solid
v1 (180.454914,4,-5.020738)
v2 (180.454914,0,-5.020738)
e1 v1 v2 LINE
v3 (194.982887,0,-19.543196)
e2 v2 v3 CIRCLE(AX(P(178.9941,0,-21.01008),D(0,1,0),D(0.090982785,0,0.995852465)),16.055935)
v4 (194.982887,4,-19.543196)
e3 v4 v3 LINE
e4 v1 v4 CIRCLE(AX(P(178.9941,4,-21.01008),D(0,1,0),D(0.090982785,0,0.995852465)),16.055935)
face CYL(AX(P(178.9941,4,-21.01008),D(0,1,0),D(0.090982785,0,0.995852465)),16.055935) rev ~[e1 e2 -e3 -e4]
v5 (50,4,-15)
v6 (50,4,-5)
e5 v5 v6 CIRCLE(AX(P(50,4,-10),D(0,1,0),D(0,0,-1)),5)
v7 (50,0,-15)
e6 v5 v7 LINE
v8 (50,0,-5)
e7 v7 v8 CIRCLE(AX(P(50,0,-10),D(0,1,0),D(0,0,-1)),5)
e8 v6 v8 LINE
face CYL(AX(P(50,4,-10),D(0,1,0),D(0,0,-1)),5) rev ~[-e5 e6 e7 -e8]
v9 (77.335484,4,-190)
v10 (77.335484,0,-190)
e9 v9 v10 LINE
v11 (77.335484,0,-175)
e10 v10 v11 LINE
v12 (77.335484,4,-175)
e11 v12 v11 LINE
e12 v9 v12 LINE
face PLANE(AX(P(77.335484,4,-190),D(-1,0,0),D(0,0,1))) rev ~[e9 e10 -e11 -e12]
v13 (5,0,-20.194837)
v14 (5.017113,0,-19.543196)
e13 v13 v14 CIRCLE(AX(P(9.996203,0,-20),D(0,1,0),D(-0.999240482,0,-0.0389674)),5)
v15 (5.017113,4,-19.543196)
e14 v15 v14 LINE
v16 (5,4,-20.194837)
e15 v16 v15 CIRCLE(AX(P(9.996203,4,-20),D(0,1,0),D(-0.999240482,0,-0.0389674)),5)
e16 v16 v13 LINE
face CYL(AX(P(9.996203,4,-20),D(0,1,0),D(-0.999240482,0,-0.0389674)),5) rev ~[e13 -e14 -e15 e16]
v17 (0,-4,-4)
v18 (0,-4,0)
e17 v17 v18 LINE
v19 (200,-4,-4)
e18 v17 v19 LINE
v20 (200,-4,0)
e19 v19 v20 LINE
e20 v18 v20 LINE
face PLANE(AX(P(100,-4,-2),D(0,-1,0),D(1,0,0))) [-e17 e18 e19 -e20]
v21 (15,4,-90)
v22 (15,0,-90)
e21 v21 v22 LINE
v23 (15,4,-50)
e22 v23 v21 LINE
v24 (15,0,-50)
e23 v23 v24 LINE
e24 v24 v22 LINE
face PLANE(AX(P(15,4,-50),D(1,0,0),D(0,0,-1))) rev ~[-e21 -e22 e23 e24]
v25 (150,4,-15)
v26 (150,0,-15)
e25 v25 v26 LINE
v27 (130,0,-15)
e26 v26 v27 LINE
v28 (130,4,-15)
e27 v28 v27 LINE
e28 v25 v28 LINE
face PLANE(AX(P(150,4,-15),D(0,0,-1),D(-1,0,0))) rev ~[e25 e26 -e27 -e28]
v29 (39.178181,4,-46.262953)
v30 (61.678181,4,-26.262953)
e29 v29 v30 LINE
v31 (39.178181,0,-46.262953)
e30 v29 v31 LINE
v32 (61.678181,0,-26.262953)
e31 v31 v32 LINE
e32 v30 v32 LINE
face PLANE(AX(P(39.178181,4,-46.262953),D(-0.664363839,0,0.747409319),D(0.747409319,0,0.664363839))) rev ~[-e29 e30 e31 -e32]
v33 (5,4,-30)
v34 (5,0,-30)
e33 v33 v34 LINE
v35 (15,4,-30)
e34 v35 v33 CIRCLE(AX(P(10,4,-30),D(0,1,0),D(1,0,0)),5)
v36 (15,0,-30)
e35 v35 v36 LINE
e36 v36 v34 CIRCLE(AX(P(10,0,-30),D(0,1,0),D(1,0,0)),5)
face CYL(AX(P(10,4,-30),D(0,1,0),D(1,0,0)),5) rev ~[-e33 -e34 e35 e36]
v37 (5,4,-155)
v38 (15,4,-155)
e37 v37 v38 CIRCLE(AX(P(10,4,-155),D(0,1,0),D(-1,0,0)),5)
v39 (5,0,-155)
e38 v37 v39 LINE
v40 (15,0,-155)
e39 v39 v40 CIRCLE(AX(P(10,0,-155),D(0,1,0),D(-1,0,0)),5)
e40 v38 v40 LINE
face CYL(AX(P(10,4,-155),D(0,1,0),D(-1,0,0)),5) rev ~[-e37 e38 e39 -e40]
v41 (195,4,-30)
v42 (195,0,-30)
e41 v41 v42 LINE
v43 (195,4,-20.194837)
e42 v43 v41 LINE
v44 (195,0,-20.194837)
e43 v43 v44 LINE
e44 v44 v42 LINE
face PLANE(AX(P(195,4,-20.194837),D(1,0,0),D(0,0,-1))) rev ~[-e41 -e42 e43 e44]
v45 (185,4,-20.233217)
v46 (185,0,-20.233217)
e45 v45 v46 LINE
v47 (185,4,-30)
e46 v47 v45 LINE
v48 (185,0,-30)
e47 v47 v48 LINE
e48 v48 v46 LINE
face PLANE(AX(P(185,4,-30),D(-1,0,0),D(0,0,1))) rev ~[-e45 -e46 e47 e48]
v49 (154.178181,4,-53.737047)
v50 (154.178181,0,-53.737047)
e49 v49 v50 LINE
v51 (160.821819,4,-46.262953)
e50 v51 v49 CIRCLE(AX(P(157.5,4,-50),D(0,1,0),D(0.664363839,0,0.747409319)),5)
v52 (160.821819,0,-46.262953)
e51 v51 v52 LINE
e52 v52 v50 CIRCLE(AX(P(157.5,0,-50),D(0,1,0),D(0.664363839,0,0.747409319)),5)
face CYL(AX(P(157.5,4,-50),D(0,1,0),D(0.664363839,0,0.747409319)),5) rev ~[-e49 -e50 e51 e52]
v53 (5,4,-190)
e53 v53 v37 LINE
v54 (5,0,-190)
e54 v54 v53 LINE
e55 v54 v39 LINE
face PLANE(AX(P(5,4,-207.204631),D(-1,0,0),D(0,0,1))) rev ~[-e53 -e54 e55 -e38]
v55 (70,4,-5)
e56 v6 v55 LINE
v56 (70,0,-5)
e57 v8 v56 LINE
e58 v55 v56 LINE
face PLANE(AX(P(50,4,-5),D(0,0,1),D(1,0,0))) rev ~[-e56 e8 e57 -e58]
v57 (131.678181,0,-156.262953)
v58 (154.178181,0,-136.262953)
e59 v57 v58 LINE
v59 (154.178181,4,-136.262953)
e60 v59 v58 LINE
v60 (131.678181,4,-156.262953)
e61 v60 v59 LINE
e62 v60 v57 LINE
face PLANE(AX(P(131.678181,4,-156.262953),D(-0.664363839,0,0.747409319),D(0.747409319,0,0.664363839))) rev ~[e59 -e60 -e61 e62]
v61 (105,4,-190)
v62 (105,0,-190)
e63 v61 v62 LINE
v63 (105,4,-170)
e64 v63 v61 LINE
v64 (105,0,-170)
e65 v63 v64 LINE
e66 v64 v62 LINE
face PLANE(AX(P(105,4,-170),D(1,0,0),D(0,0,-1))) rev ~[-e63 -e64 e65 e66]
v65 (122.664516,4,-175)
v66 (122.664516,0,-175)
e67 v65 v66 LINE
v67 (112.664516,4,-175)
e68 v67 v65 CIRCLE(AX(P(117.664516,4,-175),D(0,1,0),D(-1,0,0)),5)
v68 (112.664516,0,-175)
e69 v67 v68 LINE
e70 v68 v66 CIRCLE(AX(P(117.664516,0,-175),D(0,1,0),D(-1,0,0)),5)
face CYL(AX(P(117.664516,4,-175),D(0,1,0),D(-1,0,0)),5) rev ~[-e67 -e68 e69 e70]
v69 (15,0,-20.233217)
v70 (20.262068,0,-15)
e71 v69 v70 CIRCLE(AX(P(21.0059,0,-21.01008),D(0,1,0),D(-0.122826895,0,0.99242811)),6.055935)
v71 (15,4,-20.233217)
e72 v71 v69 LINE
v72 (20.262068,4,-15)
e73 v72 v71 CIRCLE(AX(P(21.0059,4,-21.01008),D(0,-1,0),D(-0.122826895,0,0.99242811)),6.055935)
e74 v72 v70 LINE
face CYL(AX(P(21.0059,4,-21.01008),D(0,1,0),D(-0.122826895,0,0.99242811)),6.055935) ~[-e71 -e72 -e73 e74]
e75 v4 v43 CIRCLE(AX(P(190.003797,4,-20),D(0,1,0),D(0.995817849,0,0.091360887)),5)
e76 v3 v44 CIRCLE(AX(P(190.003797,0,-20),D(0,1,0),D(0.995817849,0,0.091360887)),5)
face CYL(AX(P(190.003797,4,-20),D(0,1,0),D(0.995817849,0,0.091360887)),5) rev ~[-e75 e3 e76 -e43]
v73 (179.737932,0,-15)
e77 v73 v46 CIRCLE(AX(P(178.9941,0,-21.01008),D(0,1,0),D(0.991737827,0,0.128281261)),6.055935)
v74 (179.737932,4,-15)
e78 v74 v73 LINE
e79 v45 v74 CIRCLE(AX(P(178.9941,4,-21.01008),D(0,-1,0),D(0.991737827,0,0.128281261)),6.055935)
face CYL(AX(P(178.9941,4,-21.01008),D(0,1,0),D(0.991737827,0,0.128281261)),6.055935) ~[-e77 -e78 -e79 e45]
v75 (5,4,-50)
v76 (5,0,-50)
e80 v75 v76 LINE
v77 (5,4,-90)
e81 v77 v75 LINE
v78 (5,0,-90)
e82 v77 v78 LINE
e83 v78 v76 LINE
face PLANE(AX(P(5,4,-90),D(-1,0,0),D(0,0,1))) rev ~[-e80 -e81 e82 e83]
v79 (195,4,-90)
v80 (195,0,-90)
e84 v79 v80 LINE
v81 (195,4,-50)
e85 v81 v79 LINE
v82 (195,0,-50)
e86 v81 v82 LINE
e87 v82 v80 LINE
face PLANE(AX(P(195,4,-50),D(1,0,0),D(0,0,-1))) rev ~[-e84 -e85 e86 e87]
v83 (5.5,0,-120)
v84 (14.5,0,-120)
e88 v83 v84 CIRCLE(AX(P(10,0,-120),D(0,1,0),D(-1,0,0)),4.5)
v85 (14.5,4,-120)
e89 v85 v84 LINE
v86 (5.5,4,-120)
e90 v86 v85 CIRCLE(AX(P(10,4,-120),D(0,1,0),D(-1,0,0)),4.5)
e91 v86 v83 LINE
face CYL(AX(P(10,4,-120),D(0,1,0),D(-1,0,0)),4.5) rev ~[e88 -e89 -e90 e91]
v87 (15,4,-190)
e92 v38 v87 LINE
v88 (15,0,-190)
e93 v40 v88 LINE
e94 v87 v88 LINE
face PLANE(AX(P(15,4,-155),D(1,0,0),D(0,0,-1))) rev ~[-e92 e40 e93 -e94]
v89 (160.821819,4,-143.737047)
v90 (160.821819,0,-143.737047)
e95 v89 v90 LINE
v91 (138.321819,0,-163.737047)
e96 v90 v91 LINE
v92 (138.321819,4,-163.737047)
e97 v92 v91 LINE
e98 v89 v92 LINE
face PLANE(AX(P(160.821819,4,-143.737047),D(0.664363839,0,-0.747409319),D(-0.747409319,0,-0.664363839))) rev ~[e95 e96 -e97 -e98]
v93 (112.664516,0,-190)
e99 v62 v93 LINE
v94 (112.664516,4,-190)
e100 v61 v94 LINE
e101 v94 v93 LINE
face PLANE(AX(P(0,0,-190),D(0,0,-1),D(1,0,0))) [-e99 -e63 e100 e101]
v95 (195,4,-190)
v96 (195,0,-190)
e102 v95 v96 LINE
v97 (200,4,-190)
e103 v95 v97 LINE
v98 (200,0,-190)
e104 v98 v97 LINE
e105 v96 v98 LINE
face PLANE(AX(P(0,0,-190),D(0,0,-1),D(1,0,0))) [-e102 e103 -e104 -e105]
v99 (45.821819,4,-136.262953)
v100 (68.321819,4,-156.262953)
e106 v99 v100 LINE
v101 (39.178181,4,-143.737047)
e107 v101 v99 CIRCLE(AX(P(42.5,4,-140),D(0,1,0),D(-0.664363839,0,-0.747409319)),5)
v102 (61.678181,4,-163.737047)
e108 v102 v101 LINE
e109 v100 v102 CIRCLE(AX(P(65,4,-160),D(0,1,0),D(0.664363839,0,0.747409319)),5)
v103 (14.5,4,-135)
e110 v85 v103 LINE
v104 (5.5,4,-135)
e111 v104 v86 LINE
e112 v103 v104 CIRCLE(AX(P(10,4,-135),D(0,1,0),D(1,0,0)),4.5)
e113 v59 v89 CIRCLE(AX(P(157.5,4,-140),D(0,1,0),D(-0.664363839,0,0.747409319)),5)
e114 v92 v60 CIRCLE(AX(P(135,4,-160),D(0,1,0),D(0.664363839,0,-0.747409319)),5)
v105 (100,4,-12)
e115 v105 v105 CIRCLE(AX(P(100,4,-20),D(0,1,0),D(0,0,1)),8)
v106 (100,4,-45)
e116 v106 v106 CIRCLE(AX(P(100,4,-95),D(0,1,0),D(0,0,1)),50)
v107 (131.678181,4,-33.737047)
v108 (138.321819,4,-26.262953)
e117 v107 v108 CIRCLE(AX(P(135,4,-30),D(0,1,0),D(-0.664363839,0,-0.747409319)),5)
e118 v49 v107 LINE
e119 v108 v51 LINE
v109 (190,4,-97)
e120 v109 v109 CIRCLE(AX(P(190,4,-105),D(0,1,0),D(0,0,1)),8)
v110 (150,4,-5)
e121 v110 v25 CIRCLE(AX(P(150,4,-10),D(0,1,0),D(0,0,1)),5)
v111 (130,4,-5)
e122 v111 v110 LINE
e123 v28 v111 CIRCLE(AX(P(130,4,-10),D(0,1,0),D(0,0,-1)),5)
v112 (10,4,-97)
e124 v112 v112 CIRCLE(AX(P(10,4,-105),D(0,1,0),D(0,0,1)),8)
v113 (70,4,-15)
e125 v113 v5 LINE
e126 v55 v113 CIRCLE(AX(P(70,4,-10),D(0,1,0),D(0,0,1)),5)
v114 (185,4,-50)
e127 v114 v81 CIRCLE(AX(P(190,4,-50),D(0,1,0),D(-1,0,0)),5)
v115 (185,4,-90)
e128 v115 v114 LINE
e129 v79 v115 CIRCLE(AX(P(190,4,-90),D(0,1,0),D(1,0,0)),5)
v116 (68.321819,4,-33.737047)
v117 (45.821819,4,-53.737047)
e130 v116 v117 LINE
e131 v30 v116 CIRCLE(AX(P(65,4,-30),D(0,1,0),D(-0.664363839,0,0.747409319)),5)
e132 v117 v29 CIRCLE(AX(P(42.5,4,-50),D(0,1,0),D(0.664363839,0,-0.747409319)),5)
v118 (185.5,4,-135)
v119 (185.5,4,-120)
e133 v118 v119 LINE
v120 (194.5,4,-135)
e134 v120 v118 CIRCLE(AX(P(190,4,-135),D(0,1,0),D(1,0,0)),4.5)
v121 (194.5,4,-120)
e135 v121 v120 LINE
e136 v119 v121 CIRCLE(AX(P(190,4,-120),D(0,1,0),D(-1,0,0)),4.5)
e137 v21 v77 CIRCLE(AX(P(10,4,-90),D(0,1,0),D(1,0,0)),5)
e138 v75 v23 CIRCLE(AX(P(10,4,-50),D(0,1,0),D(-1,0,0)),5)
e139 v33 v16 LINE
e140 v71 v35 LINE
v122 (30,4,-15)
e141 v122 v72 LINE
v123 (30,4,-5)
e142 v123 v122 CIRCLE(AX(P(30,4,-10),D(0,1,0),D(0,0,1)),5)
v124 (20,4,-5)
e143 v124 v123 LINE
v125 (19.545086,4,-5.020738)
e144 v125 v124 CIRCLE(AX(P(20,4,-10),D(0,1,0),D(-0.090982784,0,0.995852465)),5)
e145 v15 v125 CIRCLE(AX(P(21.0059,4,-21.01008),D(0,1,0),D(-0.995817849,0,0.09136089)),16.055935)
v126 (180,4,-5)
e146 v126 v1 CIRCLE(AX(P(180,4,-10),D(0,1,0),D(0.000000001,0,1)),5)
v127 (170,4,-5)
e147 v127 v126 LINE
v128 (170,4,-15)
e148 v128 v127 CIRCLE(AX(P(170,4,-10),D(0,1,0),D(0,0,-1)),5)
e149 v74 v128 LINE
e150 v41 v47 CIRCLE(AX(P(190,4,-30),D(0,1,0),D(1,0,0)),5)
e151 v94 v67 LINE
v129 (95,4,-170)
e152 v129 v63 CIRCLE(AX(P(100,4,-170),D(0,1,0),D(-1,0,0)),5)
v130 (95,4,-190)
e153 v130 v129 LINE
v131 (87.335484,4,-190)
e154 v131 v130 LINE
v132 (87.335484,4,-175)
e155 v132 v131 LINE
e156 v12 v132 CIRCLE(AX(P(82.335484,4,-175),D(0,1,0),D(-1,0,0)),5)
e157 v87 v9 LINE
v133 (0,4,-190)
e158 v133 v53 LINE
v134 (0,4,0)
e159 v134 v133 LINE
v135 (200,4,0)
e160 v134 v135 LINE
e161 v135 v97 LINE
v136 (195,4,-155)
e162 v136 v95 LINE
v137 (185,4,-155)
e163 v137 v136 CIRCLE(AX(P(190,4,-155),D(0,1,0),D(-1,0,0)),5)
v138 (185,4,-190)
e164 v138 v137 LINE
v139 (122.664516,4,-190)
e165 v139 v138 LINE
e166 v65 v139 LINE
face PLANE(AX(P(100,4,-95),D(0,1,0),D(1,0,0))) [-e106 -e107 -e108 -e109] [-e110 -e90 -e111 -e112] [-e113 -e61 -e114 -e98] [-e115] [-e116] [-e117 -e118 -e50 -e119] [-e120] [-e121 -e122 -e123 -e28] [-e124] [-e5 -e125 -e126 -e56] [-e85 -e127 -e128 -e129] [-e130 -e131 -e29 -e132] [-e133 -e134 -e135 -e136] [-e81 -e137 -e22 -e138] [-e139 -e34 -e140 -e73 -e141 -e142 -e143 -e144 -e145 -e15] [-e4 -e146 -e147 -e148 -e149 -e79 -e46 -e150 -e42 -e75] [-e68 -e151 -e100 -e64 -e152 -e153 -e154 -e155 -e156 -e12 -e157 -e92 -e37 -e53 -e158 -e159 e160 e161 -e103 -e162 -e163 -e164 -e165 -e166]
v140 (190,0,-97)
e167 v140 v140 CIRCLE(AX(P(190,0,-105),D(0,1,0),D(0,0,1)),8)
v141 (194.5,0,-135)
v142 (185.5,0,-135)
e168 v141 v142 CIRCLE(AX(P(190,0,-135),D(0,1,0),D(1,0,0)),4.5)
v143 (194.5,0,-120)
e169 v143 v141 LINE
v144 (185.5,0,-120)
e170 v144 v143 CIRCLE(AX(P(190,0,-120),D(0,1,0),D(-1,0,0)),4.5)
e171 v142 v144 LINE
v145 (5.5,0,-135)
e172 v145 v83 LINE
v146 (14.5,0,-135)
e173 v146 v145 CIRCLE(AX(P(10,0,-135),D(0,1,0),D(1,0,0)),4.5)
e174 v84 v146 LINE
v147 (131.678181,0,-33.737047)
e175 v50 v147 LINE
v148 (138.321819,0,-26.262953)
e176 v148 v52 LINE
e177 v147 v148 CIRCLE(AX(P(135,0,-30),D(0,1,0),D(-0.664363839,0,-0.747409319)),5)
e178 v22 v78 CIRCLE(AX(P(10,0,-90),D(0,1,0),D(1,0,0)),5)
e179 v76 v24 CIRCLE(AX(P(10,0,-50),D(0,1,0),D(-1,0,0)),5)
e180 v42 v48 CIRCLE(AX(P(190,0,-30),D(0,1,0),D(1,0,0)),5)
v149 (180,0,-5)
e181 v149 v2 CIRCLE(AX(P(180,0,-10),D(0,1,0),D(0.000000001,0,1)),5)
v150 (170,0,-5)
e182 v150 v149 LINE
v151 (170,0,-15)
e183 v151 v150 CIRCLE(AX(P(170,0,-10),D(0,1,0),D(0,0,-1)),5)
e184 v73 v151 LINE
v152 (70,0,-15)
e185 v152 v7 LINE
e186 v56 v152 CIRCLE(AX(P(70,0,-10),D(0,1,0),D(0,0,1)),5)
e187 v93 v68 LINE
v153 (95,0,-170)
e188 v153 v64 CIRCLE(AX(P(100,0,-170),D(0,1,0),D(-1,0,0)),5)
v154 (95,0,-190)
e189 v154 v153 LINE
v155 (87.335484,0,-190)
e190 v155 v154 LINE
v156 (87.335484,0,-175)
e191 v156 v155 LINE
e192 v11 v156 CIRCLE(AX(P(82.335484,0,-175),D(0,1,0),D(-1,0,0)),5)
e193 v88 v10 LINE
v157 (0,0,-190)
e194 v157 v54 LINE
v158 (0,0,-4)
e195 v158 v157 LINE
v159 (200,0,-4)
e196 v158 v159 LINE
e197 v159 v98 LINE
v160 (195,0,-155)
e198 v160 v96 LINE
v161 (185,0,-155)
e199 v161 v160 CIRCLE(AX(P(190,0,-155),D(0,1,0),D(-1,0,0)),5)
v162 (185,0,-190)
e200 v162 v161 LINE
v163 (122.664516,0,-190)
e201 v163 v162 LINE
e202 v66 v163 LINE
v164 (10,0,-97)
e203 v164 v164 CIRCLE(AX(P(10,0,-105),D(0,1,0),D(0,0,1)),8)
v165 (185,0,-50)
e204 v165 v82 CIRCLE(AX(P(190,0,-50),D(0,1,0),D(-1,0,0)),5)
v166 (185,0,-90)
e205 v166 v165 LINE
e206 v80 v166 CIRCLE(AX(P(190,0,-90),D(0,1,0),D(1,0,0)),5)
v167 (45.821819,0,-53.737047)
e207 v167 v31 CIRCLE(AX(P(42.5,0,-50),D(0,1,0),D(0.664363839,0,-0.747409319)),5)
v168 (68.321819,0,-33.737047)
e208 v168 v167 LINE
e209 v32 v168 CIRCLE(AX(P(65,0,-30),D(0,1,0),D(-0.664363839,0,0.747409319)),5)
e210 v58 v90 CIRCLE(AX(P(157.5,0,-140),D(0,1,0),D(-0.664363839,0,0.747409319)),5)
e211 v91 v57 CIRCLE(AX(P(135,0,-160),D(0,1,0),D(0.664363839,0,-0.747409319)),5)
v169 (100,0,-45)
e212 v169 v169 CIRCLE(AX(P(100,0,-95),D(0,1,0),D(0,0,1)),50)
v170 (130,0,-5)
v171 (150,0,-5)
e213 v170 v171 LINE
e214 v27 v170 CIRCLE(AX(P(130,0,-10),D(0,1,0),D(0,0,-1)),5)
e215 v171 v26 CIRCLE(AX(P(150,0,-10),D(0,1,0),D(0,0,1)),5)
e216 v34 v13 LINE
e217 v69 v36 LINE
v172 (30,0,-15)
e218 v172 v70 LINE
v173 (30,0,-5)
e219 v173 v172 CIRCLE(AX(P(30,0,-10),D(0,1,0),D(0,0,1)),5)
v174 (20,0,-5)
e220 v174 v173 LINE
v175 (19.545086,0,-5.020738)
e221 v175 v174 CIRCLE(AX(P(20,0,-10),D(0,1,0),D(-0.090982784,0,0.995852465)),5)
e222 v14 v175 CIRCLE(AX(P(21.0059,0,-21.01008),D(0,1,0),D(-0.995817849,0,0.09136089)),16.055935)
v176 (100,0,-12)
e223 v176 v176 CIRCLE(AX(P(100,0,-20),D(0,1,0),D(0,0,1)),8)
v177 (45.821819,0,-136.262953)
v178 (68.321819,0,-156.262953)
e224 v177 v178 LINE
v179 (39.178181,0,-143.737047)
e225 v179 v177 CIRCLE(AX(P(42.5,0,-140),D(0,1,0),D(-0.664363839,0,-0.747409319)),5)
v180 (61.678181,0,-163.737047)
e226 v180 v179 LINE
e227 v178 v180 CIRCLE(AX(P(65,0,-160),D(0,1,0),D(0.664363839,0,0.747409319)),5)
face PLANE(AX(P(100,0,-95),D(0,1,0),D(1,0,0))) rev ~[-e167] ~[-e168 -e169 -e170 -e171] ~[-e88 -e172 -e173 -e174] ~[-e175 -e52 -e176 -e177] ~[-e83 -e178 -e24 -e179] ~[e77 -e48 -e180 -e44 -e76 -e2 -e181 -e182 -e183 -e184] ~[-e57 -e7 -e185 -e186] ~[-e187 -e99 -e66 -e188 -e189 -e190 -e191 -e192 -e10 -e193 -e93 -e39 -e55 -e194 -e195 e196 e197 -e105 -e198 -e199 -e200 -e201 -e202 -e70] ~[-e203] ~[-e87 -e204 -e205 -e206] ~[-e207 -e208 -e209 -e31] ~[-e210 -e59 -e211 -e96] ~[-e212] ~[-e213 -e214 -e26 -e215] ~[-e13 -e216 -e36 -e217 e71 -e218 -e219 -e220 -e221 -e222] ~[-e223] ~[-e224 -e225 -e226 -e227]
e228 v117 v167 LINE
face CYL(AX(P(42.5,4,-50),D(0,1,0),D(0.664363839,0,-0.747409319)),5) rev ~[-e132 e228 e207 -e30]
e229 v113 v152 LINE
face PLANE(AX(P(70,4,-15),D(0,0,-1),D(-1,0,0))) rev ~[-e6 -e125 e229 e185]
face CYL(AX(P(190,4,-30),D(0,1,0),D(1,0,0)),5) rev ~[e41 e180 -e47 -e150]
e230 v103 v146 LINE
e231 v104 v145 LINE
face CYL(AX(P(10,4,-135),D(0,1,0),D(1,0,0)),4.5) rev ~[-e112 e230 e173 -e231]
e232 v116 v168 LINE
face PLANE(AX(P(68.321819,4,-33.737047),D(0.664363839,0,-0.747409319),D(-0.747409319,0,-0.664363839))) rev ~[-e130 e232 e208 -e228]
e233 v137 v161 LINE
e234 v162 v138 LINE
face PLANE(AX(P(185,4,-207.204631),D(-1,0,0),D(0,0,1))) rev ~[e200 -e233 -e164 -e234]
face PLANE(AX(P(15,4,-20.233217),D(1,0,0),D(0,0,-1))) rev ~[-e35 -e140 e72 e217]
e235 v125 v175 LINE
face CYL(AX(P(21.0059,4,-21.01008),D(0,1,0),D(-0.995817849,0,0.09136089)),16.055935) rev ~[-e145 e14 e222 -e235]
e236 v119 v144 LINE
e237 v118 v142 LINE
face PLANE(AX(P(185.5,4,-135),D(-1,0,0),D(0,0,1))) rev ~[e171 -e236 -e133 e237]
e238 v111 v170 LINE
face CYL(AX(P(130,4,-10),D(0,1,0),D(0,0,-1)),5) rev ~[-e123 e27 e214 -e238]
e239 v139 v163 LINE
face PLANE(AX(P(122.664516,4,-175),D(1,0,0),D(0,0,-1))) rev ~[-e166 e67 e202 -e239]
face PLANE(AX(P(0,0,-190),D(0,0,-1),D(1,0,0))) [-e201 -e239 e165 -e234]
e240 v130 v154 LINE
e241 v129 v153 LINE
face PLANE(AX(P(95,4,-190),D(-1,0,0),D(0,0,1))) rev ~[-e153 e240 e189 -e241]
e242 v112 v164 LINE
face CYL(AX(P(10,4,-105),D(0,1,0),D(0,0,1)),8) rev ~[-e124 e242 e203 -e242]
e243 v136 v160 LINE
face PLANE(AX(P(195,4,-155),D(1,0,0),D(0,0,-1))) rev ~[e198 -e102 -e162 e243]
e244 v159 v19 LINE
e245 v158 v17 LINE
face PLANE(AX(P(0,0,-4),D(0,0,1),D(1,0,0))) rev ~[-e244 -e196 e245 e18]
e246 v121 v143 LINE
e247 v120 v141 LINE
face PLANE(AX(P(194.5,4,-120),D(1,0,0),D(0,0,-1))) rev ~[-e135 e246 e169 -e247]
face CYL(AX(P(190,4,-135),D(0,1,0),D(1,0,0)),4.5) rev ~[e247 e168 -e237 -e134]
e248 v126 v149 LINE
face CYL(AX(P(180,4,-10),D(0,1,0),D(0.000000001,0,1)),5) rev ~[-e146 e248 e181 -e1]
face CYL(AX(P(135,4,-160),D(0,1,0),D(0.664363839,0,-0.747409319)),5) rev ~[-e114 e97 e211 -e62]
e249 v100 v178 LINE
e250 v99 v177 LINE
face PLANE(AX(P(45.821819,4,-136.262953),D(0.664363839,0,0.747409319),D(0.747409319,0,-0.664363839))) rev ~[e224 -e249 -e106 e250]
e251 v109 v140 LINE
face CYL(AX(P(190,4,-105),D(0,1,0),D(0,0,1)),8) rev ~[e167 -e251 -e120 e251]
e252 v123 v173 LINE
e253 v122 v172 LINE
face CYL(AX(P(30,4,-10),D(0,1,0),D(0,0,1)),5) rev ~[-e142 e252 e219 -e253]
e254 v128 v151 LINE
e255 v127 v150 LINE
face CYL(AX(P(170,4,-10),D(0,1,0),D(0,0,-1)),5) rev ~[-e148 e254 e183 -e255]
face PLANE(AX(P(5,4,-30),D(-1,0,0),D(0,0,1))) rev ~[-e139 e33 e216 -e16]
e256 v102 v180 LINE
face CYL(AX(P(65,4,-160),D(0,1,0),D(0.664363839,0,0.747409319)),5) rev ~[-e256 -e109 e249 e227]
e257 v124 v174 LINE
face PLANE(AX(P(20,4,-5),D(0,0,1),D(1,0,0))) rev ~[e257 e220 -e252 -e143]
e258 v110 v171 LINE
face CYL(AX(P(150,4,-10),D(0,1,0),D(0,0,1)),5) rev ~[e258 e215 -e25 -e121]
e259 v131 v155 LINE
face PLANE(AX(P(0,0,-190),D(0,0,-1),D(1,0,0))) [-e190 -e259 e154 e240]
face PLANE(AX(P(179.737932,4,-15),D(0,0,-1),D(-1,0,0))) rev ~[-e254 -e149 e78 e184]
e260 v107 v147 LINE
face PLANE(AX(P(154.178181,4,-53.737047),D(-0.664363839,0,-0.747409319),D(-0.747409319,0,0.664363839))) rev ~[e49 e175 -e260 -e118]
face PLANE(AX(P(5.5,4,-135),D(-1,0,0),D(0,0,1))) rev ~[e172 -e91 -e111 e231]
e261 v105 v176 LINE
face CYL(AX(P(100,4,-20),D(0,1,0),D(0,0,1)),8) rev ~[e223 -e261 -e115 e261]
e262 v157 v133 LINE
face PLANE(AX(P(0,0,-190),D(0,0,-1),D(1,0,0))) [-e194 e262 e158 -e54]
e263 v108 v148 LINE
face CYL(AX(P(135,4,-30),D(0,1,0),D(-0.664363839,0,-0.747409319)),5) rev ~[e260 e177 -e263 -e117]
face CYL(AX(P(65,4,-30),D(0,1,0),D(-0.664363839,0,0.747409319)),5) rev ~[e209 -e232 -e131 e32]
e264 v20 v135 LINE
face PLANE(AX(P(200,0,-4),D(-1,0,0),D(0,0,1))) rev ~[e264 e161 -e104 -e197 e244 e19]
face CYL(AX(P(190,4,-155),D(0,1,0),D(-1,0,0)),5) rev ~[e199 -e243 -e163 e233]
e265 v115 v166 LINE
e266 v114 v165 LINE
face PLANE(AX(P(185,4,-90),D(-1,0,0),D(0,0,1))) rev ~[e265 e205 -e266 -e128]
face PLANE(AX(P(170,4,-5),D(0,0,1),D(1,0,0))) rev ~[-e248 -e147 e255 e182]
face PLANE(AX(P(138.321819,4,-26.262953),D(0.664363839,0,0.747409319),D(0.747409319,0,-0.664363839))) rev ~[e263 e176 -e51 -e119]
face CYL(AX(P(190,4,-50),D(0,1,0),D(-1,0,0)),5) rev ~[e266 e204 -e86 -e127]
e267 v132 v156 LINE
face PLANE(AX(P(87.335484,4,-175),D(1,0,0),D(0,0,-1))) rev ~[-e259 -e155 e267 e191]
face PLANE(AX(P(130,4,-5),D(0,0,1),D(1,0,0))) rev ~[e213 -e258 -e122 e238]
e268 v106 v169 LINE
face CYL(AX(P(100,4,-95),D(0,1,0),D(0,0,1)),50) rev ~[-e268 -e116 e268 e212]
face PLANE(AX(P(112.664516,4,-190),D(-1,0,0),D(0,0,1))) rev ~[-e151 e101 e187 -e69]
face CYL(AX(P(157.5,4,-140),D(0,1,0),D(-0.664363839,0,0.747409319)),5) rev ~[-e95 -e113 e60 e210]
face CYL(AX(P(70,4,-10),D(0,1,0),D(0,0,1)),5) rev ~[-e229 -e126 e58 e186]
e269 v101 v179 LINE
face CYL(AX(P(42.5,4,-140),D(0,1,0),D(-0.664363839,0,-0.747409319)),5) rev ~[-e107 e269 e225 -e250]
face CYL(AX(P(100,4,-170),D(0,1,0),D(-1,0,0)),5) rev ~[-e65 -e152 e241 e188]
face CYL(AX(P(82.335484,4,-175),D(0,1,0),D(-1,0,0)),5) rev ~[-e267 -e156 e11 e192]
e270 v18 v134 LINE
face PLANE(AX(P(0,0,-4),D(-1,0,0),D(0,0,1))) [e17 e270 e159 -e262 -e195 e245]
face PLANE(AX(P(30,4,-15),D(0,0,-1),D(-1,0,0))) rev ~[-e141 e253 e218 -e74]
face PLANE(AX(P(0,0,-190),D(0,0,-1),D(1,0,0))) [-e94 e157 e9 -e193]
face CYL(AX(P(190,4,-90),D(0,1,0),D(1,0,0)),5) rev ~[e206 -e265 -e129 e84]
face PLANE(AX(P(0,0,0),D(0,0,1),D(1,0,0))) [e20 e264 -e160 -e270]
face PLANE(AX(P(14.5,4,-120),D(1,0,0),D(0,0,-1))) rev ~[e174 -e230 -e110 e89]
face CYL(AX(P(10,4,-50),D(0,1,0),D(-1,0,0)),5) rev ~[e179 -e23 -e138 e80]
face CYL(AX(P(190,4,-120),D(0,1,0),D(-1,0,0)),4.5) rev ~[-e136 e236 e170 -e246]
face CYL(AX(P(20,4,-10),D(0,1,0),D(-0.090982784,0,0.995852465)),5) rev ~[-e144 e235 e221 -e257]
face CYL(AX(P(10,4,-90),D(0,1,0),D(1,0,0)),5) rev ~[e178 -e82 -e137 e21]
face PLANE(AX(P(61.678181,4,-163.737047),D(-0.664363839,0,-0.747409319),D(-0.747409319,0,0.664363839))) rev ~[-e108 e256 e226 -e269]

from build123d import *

# Parameters (mm, degrees)
SKETCH1_W           = 200
SKETCH1_H           = 190
BOSS_EXTRUDE1_DEPTH = 4
SKETCH3_R           = 50
CUT_EXTRUDE5_DEPTH  = 10
SKETCH4_W           = 200
SKETCH4_H           = 4
BOSS_EXTRUDE2_DEPTH = 4
SKETCH_1_R          = 8
CUT_EXTRUDE_1_DEPTH = 10


with BuildPart() as part:
    # Sketch1 → Boss-Extrude1 (new body)
    with BuildSketch(Plane(origin=(0, 0, 0), x_dir=(1, 0, 0), z_dir=(0, 1, 0))):
        with Locations((100, 95)):
            Rectangle(SKETCH1_W, SKETCH1_H)
    extrude(amount=BOSS_EXTRUDE1_DEPTH)

    # Sketch3 → Cut-Extrude5 (cut)
    with BuildSketch(Plane(origin=(0, 4, 0), x_dir=(1, 0, 0), z_dir=(0, 1, 0))):
        with BuildLine():
            Line((30, 15), (20.262068061, 15))
            ThreePointArc((20.262068061, 15), (16.735494747, 16.716132106), (15, 20.233217082))
            Line((15, 20.233217082), (15, 30))
            ThreePointArc((15, 30), (10, 35), (5, 30))
            Line((5, 30), (5, 20.194837008))
            ThreePointArc((5, 20.194837008), (4.997925704, 19.868737095), (5.017113168, 19.54319555))
            ThreePointArc((5.017113168, 19.54319555), (9.654794827, 9.654664453), (19.545086076, 5.020737673))
            ThreePointArc((19.545086076, 5.020737673), (19.772306824, 5.005187109), (20, 5))
            Line((20, 5), (30, 5))
            ThreePointArc((30, 5), (35, 10), (30, 15))
        make_face()
        with BuildLine():
            Line((5, 90), (5, 50))
            ThreePointArc((5, 50), (10, 45), (15, 50))
            Line((15, 50), (15, 90))
            ThreePointArc((15, 90), (10, 95), (5, 90))
        make_face()
        with BuildLine():
            Line((70, 15), (50, 15))
            ThreePointArc((50, 15), (45, 10), (50, 5))
            Line((50, 5), (70, 5))
            ThreePointArc((70, 5), (75, 10), (70, 15))
        make_face()
        with BuildLine():
            ThreePointArc((185, 50), (190, 45), (195, 50))
            Line((195, 50), (195, 90))
            ThreePointArc((195, 90), (190, 95), (185, 90))
            Line((185, 90), (185, 50))
        make_face()
        with BuildLine():
            ThreePointArc((185, 20.233217082), (183.264505253, 16.716132106), (179.737931939, 15))
            Line((179.737931939, 15), (170, 15))
            ThreePointArc((170, 15), (165, 10), (170, 5))
            Line((170, 5), (180, 5))
            ThreePointArc((180, 5), (180.227693176, 5.005187109), (180.454913924, 5.020737673))
            ThreePointArc((180.454913924, 5.020737673), (190.345205173, 9.654664453), (194.982886832, 19.54319555))
            ThreePointArc((194.982886832, 19.54319555), (195.002074296, 19.868737095), (195, 20.194837008))
            Line((195, 20.194837008), (195, 30))
            ThreePointArc((195, 30), (190, 35), (185, 30))
            Line((185, 30), (185, 20.233217082))
        make_face()
        with BuildLine():
            ThreePointArc((150, 5), (155, 10), (150, 15))
            Line((150, 15), (130, 15))
            ThreePointArc((130, 15), (125, 10), (130, 5))
            Line((130, 5), (150, 5))
        make_face()
        with BuildLine():
            ThreePointArc((160.821819194, 46.262953407), (161.237046593, 53.321819194), (154.178180806, 53.737046593))
            Line((154.178180806, 53.737046593), (131.678180806, 33.737046593))
            ThreePointArc((131.678180806, 33.737046593), (131.262953407, 26.678180806), (138.321819194, 26.262953407))
            Line((138.321819194, 26.262953407), (160.821819194, 46.262953407))
        make_face()
        with BuildLine():
            Line((131.678180806, 156.262953407), (154.178180806, 136.262953407))
            ThreePointArc((154.178180806, 136.262953407), (161.237046593, 136.678180806), (160.821819194, 143.737046593))
            Line((160.821819194, 143.737046593), (138.321819194, 163.737046593))
            ThreePointArc((138.321819194, 163.737046593), (131.262953407, 163.321819194), (131.678180806, 156.262953407))
        make_face()
        with BuildLine():
            Line((5.5, 135), (5.5, 120))
            ThreePointArc((5.5, 120), (10, 115.5), (14.5, 120))
            Line((14.5, 120), (14.5, 135))
            ThreePointArc((14.5, 135), (10, 139.5), (5.5, 135))
        make_face()
        with BuildLine():
            ThreePointArc((39.178180806, 143.737046593), (38.762953407, 136.678180806), (45.821819194, 136.262953407))
            Line((45.821819194, 136.262953407), (68.321819194, 156.262953407))
            ThreePointArc((68.321819194, 156.262953407), (68.737046593, 163.321819194), (61.678180806, 163.737046593))
            Line((61.678180806, 163.737046593), (39.178180806, 143.737046593))
        make_face()
        with BuildLine():
            Line((68.321819194, 33.737046593), (45.821819194, 53.737046593))
            ThreePointArc((45.821819194, 53.737046593), (38.762953407, 53.321819194), (39.178180806, 46.262953407))
            Line((39.178180806, 46.262953407), (61.678180806, 26.262953407))
            ThreePointArc((61.678180806, 26.262953407), (68.737046593, 26.678180806), (68.321819194, 33.737046593))
        make_face()
        with BuildLine():
            Line((95, 190), (95, 170))
            ThreePointArc((95, 170), (100, 165), (105, 170))
            Line((105, 170), (105, 190))
            ThreePointArc((105, 190), (100, 195), (95, 190))
        make_face()
        with BuildLine():
            Line((77.335483589, 190), (77.335483589, 175))
            ThreePointArc((77.335483589, 175), (82.335483589, 170), (87.335483589, 175))
            Line((87.335483589, 175), (87.335483589, 190))
            ThreePointArc((87.335483589, 190), (82.335483589, 195), (77.335483589, 190))
        make_face()
        with BuildLine():
            Line((5, 207.20463147), (5, 155))
            ThreePointArc((5, 155), (10, 150), (15, 155))
            Line((15, 155), (15, 207.20463147))
            ThreePointArc((15, 207.20463147), (10, 212.20463147), (5, 207.20463147))
        make_face()
        with BuildLine():
            ThreePointArc((185, 155), (190, 150), (195, 155))
            Line((195, 155), (195, 207.20463147))
            ThreePointArc((195, 207.20463147), (190, 212.20463147), (185, 207.20463147))
            Line((185, 207.20463147), (185, 155))
        make_face()
        with BuildLine():
            ThreePointArc((112.664516411, 175), (117.664516411, 170), (122.664516411, 175))
            Line((122.664516411, 175), (122.664516411, 190))
            ThreePointArc((122.664516411, 190), (117.664516411, 195), (112.664516411, 190))
            Line((112.664516411, 190), (112.664516411, 175))
        make_face()
        with BuildLine():
            ThreePointArc((185.5, 120), (190, 115.5), (194.5, 120))
            Line((194.5, 120), (194.5, 135))
            ThreePointArc((194.5, 135), (190, 139.5), (185.5, 135))
            Line((185.5, 135), (185.5, 120))
        make_face()
        with Locations((100, 95)):
            Circle(SKETCH3_R)
    extrude(amount=-CUT_EXTRUDE5_DEPTH, mode=Mode.SUBTRACT)

    # Sketch4 → Boss-Extrude2 (add)
    with BuildSketch(Plane.XZ):
        with Locations((100, -2)):
            Rectangle(SKETCH4_W, SKETCH4_H)
    extrude(amount=BOSS_EXTRUDE2_DEPTH)

    # ｽｹｯﾁ1 → ｶｯﾄ - 押し出し1 (cut)
    with BuildSketch(Plane(origin=(0, 4, 0), x_dir=(1, 0, 0), z_dir=(0, 1, 0))):
        with Locations((100, 20)):
            Circle(SKETCH_1_R)
        with Locations((190, 105)):
            Circle(SKETCH_1_R)
        with Locations((10, 105)):
            Circle(SKETCH_1_R)
    extrude(amount=-CUT_EXTRUDE_1_DEPTH, mode=Mode.SUBTRACT)


solid = part.part
